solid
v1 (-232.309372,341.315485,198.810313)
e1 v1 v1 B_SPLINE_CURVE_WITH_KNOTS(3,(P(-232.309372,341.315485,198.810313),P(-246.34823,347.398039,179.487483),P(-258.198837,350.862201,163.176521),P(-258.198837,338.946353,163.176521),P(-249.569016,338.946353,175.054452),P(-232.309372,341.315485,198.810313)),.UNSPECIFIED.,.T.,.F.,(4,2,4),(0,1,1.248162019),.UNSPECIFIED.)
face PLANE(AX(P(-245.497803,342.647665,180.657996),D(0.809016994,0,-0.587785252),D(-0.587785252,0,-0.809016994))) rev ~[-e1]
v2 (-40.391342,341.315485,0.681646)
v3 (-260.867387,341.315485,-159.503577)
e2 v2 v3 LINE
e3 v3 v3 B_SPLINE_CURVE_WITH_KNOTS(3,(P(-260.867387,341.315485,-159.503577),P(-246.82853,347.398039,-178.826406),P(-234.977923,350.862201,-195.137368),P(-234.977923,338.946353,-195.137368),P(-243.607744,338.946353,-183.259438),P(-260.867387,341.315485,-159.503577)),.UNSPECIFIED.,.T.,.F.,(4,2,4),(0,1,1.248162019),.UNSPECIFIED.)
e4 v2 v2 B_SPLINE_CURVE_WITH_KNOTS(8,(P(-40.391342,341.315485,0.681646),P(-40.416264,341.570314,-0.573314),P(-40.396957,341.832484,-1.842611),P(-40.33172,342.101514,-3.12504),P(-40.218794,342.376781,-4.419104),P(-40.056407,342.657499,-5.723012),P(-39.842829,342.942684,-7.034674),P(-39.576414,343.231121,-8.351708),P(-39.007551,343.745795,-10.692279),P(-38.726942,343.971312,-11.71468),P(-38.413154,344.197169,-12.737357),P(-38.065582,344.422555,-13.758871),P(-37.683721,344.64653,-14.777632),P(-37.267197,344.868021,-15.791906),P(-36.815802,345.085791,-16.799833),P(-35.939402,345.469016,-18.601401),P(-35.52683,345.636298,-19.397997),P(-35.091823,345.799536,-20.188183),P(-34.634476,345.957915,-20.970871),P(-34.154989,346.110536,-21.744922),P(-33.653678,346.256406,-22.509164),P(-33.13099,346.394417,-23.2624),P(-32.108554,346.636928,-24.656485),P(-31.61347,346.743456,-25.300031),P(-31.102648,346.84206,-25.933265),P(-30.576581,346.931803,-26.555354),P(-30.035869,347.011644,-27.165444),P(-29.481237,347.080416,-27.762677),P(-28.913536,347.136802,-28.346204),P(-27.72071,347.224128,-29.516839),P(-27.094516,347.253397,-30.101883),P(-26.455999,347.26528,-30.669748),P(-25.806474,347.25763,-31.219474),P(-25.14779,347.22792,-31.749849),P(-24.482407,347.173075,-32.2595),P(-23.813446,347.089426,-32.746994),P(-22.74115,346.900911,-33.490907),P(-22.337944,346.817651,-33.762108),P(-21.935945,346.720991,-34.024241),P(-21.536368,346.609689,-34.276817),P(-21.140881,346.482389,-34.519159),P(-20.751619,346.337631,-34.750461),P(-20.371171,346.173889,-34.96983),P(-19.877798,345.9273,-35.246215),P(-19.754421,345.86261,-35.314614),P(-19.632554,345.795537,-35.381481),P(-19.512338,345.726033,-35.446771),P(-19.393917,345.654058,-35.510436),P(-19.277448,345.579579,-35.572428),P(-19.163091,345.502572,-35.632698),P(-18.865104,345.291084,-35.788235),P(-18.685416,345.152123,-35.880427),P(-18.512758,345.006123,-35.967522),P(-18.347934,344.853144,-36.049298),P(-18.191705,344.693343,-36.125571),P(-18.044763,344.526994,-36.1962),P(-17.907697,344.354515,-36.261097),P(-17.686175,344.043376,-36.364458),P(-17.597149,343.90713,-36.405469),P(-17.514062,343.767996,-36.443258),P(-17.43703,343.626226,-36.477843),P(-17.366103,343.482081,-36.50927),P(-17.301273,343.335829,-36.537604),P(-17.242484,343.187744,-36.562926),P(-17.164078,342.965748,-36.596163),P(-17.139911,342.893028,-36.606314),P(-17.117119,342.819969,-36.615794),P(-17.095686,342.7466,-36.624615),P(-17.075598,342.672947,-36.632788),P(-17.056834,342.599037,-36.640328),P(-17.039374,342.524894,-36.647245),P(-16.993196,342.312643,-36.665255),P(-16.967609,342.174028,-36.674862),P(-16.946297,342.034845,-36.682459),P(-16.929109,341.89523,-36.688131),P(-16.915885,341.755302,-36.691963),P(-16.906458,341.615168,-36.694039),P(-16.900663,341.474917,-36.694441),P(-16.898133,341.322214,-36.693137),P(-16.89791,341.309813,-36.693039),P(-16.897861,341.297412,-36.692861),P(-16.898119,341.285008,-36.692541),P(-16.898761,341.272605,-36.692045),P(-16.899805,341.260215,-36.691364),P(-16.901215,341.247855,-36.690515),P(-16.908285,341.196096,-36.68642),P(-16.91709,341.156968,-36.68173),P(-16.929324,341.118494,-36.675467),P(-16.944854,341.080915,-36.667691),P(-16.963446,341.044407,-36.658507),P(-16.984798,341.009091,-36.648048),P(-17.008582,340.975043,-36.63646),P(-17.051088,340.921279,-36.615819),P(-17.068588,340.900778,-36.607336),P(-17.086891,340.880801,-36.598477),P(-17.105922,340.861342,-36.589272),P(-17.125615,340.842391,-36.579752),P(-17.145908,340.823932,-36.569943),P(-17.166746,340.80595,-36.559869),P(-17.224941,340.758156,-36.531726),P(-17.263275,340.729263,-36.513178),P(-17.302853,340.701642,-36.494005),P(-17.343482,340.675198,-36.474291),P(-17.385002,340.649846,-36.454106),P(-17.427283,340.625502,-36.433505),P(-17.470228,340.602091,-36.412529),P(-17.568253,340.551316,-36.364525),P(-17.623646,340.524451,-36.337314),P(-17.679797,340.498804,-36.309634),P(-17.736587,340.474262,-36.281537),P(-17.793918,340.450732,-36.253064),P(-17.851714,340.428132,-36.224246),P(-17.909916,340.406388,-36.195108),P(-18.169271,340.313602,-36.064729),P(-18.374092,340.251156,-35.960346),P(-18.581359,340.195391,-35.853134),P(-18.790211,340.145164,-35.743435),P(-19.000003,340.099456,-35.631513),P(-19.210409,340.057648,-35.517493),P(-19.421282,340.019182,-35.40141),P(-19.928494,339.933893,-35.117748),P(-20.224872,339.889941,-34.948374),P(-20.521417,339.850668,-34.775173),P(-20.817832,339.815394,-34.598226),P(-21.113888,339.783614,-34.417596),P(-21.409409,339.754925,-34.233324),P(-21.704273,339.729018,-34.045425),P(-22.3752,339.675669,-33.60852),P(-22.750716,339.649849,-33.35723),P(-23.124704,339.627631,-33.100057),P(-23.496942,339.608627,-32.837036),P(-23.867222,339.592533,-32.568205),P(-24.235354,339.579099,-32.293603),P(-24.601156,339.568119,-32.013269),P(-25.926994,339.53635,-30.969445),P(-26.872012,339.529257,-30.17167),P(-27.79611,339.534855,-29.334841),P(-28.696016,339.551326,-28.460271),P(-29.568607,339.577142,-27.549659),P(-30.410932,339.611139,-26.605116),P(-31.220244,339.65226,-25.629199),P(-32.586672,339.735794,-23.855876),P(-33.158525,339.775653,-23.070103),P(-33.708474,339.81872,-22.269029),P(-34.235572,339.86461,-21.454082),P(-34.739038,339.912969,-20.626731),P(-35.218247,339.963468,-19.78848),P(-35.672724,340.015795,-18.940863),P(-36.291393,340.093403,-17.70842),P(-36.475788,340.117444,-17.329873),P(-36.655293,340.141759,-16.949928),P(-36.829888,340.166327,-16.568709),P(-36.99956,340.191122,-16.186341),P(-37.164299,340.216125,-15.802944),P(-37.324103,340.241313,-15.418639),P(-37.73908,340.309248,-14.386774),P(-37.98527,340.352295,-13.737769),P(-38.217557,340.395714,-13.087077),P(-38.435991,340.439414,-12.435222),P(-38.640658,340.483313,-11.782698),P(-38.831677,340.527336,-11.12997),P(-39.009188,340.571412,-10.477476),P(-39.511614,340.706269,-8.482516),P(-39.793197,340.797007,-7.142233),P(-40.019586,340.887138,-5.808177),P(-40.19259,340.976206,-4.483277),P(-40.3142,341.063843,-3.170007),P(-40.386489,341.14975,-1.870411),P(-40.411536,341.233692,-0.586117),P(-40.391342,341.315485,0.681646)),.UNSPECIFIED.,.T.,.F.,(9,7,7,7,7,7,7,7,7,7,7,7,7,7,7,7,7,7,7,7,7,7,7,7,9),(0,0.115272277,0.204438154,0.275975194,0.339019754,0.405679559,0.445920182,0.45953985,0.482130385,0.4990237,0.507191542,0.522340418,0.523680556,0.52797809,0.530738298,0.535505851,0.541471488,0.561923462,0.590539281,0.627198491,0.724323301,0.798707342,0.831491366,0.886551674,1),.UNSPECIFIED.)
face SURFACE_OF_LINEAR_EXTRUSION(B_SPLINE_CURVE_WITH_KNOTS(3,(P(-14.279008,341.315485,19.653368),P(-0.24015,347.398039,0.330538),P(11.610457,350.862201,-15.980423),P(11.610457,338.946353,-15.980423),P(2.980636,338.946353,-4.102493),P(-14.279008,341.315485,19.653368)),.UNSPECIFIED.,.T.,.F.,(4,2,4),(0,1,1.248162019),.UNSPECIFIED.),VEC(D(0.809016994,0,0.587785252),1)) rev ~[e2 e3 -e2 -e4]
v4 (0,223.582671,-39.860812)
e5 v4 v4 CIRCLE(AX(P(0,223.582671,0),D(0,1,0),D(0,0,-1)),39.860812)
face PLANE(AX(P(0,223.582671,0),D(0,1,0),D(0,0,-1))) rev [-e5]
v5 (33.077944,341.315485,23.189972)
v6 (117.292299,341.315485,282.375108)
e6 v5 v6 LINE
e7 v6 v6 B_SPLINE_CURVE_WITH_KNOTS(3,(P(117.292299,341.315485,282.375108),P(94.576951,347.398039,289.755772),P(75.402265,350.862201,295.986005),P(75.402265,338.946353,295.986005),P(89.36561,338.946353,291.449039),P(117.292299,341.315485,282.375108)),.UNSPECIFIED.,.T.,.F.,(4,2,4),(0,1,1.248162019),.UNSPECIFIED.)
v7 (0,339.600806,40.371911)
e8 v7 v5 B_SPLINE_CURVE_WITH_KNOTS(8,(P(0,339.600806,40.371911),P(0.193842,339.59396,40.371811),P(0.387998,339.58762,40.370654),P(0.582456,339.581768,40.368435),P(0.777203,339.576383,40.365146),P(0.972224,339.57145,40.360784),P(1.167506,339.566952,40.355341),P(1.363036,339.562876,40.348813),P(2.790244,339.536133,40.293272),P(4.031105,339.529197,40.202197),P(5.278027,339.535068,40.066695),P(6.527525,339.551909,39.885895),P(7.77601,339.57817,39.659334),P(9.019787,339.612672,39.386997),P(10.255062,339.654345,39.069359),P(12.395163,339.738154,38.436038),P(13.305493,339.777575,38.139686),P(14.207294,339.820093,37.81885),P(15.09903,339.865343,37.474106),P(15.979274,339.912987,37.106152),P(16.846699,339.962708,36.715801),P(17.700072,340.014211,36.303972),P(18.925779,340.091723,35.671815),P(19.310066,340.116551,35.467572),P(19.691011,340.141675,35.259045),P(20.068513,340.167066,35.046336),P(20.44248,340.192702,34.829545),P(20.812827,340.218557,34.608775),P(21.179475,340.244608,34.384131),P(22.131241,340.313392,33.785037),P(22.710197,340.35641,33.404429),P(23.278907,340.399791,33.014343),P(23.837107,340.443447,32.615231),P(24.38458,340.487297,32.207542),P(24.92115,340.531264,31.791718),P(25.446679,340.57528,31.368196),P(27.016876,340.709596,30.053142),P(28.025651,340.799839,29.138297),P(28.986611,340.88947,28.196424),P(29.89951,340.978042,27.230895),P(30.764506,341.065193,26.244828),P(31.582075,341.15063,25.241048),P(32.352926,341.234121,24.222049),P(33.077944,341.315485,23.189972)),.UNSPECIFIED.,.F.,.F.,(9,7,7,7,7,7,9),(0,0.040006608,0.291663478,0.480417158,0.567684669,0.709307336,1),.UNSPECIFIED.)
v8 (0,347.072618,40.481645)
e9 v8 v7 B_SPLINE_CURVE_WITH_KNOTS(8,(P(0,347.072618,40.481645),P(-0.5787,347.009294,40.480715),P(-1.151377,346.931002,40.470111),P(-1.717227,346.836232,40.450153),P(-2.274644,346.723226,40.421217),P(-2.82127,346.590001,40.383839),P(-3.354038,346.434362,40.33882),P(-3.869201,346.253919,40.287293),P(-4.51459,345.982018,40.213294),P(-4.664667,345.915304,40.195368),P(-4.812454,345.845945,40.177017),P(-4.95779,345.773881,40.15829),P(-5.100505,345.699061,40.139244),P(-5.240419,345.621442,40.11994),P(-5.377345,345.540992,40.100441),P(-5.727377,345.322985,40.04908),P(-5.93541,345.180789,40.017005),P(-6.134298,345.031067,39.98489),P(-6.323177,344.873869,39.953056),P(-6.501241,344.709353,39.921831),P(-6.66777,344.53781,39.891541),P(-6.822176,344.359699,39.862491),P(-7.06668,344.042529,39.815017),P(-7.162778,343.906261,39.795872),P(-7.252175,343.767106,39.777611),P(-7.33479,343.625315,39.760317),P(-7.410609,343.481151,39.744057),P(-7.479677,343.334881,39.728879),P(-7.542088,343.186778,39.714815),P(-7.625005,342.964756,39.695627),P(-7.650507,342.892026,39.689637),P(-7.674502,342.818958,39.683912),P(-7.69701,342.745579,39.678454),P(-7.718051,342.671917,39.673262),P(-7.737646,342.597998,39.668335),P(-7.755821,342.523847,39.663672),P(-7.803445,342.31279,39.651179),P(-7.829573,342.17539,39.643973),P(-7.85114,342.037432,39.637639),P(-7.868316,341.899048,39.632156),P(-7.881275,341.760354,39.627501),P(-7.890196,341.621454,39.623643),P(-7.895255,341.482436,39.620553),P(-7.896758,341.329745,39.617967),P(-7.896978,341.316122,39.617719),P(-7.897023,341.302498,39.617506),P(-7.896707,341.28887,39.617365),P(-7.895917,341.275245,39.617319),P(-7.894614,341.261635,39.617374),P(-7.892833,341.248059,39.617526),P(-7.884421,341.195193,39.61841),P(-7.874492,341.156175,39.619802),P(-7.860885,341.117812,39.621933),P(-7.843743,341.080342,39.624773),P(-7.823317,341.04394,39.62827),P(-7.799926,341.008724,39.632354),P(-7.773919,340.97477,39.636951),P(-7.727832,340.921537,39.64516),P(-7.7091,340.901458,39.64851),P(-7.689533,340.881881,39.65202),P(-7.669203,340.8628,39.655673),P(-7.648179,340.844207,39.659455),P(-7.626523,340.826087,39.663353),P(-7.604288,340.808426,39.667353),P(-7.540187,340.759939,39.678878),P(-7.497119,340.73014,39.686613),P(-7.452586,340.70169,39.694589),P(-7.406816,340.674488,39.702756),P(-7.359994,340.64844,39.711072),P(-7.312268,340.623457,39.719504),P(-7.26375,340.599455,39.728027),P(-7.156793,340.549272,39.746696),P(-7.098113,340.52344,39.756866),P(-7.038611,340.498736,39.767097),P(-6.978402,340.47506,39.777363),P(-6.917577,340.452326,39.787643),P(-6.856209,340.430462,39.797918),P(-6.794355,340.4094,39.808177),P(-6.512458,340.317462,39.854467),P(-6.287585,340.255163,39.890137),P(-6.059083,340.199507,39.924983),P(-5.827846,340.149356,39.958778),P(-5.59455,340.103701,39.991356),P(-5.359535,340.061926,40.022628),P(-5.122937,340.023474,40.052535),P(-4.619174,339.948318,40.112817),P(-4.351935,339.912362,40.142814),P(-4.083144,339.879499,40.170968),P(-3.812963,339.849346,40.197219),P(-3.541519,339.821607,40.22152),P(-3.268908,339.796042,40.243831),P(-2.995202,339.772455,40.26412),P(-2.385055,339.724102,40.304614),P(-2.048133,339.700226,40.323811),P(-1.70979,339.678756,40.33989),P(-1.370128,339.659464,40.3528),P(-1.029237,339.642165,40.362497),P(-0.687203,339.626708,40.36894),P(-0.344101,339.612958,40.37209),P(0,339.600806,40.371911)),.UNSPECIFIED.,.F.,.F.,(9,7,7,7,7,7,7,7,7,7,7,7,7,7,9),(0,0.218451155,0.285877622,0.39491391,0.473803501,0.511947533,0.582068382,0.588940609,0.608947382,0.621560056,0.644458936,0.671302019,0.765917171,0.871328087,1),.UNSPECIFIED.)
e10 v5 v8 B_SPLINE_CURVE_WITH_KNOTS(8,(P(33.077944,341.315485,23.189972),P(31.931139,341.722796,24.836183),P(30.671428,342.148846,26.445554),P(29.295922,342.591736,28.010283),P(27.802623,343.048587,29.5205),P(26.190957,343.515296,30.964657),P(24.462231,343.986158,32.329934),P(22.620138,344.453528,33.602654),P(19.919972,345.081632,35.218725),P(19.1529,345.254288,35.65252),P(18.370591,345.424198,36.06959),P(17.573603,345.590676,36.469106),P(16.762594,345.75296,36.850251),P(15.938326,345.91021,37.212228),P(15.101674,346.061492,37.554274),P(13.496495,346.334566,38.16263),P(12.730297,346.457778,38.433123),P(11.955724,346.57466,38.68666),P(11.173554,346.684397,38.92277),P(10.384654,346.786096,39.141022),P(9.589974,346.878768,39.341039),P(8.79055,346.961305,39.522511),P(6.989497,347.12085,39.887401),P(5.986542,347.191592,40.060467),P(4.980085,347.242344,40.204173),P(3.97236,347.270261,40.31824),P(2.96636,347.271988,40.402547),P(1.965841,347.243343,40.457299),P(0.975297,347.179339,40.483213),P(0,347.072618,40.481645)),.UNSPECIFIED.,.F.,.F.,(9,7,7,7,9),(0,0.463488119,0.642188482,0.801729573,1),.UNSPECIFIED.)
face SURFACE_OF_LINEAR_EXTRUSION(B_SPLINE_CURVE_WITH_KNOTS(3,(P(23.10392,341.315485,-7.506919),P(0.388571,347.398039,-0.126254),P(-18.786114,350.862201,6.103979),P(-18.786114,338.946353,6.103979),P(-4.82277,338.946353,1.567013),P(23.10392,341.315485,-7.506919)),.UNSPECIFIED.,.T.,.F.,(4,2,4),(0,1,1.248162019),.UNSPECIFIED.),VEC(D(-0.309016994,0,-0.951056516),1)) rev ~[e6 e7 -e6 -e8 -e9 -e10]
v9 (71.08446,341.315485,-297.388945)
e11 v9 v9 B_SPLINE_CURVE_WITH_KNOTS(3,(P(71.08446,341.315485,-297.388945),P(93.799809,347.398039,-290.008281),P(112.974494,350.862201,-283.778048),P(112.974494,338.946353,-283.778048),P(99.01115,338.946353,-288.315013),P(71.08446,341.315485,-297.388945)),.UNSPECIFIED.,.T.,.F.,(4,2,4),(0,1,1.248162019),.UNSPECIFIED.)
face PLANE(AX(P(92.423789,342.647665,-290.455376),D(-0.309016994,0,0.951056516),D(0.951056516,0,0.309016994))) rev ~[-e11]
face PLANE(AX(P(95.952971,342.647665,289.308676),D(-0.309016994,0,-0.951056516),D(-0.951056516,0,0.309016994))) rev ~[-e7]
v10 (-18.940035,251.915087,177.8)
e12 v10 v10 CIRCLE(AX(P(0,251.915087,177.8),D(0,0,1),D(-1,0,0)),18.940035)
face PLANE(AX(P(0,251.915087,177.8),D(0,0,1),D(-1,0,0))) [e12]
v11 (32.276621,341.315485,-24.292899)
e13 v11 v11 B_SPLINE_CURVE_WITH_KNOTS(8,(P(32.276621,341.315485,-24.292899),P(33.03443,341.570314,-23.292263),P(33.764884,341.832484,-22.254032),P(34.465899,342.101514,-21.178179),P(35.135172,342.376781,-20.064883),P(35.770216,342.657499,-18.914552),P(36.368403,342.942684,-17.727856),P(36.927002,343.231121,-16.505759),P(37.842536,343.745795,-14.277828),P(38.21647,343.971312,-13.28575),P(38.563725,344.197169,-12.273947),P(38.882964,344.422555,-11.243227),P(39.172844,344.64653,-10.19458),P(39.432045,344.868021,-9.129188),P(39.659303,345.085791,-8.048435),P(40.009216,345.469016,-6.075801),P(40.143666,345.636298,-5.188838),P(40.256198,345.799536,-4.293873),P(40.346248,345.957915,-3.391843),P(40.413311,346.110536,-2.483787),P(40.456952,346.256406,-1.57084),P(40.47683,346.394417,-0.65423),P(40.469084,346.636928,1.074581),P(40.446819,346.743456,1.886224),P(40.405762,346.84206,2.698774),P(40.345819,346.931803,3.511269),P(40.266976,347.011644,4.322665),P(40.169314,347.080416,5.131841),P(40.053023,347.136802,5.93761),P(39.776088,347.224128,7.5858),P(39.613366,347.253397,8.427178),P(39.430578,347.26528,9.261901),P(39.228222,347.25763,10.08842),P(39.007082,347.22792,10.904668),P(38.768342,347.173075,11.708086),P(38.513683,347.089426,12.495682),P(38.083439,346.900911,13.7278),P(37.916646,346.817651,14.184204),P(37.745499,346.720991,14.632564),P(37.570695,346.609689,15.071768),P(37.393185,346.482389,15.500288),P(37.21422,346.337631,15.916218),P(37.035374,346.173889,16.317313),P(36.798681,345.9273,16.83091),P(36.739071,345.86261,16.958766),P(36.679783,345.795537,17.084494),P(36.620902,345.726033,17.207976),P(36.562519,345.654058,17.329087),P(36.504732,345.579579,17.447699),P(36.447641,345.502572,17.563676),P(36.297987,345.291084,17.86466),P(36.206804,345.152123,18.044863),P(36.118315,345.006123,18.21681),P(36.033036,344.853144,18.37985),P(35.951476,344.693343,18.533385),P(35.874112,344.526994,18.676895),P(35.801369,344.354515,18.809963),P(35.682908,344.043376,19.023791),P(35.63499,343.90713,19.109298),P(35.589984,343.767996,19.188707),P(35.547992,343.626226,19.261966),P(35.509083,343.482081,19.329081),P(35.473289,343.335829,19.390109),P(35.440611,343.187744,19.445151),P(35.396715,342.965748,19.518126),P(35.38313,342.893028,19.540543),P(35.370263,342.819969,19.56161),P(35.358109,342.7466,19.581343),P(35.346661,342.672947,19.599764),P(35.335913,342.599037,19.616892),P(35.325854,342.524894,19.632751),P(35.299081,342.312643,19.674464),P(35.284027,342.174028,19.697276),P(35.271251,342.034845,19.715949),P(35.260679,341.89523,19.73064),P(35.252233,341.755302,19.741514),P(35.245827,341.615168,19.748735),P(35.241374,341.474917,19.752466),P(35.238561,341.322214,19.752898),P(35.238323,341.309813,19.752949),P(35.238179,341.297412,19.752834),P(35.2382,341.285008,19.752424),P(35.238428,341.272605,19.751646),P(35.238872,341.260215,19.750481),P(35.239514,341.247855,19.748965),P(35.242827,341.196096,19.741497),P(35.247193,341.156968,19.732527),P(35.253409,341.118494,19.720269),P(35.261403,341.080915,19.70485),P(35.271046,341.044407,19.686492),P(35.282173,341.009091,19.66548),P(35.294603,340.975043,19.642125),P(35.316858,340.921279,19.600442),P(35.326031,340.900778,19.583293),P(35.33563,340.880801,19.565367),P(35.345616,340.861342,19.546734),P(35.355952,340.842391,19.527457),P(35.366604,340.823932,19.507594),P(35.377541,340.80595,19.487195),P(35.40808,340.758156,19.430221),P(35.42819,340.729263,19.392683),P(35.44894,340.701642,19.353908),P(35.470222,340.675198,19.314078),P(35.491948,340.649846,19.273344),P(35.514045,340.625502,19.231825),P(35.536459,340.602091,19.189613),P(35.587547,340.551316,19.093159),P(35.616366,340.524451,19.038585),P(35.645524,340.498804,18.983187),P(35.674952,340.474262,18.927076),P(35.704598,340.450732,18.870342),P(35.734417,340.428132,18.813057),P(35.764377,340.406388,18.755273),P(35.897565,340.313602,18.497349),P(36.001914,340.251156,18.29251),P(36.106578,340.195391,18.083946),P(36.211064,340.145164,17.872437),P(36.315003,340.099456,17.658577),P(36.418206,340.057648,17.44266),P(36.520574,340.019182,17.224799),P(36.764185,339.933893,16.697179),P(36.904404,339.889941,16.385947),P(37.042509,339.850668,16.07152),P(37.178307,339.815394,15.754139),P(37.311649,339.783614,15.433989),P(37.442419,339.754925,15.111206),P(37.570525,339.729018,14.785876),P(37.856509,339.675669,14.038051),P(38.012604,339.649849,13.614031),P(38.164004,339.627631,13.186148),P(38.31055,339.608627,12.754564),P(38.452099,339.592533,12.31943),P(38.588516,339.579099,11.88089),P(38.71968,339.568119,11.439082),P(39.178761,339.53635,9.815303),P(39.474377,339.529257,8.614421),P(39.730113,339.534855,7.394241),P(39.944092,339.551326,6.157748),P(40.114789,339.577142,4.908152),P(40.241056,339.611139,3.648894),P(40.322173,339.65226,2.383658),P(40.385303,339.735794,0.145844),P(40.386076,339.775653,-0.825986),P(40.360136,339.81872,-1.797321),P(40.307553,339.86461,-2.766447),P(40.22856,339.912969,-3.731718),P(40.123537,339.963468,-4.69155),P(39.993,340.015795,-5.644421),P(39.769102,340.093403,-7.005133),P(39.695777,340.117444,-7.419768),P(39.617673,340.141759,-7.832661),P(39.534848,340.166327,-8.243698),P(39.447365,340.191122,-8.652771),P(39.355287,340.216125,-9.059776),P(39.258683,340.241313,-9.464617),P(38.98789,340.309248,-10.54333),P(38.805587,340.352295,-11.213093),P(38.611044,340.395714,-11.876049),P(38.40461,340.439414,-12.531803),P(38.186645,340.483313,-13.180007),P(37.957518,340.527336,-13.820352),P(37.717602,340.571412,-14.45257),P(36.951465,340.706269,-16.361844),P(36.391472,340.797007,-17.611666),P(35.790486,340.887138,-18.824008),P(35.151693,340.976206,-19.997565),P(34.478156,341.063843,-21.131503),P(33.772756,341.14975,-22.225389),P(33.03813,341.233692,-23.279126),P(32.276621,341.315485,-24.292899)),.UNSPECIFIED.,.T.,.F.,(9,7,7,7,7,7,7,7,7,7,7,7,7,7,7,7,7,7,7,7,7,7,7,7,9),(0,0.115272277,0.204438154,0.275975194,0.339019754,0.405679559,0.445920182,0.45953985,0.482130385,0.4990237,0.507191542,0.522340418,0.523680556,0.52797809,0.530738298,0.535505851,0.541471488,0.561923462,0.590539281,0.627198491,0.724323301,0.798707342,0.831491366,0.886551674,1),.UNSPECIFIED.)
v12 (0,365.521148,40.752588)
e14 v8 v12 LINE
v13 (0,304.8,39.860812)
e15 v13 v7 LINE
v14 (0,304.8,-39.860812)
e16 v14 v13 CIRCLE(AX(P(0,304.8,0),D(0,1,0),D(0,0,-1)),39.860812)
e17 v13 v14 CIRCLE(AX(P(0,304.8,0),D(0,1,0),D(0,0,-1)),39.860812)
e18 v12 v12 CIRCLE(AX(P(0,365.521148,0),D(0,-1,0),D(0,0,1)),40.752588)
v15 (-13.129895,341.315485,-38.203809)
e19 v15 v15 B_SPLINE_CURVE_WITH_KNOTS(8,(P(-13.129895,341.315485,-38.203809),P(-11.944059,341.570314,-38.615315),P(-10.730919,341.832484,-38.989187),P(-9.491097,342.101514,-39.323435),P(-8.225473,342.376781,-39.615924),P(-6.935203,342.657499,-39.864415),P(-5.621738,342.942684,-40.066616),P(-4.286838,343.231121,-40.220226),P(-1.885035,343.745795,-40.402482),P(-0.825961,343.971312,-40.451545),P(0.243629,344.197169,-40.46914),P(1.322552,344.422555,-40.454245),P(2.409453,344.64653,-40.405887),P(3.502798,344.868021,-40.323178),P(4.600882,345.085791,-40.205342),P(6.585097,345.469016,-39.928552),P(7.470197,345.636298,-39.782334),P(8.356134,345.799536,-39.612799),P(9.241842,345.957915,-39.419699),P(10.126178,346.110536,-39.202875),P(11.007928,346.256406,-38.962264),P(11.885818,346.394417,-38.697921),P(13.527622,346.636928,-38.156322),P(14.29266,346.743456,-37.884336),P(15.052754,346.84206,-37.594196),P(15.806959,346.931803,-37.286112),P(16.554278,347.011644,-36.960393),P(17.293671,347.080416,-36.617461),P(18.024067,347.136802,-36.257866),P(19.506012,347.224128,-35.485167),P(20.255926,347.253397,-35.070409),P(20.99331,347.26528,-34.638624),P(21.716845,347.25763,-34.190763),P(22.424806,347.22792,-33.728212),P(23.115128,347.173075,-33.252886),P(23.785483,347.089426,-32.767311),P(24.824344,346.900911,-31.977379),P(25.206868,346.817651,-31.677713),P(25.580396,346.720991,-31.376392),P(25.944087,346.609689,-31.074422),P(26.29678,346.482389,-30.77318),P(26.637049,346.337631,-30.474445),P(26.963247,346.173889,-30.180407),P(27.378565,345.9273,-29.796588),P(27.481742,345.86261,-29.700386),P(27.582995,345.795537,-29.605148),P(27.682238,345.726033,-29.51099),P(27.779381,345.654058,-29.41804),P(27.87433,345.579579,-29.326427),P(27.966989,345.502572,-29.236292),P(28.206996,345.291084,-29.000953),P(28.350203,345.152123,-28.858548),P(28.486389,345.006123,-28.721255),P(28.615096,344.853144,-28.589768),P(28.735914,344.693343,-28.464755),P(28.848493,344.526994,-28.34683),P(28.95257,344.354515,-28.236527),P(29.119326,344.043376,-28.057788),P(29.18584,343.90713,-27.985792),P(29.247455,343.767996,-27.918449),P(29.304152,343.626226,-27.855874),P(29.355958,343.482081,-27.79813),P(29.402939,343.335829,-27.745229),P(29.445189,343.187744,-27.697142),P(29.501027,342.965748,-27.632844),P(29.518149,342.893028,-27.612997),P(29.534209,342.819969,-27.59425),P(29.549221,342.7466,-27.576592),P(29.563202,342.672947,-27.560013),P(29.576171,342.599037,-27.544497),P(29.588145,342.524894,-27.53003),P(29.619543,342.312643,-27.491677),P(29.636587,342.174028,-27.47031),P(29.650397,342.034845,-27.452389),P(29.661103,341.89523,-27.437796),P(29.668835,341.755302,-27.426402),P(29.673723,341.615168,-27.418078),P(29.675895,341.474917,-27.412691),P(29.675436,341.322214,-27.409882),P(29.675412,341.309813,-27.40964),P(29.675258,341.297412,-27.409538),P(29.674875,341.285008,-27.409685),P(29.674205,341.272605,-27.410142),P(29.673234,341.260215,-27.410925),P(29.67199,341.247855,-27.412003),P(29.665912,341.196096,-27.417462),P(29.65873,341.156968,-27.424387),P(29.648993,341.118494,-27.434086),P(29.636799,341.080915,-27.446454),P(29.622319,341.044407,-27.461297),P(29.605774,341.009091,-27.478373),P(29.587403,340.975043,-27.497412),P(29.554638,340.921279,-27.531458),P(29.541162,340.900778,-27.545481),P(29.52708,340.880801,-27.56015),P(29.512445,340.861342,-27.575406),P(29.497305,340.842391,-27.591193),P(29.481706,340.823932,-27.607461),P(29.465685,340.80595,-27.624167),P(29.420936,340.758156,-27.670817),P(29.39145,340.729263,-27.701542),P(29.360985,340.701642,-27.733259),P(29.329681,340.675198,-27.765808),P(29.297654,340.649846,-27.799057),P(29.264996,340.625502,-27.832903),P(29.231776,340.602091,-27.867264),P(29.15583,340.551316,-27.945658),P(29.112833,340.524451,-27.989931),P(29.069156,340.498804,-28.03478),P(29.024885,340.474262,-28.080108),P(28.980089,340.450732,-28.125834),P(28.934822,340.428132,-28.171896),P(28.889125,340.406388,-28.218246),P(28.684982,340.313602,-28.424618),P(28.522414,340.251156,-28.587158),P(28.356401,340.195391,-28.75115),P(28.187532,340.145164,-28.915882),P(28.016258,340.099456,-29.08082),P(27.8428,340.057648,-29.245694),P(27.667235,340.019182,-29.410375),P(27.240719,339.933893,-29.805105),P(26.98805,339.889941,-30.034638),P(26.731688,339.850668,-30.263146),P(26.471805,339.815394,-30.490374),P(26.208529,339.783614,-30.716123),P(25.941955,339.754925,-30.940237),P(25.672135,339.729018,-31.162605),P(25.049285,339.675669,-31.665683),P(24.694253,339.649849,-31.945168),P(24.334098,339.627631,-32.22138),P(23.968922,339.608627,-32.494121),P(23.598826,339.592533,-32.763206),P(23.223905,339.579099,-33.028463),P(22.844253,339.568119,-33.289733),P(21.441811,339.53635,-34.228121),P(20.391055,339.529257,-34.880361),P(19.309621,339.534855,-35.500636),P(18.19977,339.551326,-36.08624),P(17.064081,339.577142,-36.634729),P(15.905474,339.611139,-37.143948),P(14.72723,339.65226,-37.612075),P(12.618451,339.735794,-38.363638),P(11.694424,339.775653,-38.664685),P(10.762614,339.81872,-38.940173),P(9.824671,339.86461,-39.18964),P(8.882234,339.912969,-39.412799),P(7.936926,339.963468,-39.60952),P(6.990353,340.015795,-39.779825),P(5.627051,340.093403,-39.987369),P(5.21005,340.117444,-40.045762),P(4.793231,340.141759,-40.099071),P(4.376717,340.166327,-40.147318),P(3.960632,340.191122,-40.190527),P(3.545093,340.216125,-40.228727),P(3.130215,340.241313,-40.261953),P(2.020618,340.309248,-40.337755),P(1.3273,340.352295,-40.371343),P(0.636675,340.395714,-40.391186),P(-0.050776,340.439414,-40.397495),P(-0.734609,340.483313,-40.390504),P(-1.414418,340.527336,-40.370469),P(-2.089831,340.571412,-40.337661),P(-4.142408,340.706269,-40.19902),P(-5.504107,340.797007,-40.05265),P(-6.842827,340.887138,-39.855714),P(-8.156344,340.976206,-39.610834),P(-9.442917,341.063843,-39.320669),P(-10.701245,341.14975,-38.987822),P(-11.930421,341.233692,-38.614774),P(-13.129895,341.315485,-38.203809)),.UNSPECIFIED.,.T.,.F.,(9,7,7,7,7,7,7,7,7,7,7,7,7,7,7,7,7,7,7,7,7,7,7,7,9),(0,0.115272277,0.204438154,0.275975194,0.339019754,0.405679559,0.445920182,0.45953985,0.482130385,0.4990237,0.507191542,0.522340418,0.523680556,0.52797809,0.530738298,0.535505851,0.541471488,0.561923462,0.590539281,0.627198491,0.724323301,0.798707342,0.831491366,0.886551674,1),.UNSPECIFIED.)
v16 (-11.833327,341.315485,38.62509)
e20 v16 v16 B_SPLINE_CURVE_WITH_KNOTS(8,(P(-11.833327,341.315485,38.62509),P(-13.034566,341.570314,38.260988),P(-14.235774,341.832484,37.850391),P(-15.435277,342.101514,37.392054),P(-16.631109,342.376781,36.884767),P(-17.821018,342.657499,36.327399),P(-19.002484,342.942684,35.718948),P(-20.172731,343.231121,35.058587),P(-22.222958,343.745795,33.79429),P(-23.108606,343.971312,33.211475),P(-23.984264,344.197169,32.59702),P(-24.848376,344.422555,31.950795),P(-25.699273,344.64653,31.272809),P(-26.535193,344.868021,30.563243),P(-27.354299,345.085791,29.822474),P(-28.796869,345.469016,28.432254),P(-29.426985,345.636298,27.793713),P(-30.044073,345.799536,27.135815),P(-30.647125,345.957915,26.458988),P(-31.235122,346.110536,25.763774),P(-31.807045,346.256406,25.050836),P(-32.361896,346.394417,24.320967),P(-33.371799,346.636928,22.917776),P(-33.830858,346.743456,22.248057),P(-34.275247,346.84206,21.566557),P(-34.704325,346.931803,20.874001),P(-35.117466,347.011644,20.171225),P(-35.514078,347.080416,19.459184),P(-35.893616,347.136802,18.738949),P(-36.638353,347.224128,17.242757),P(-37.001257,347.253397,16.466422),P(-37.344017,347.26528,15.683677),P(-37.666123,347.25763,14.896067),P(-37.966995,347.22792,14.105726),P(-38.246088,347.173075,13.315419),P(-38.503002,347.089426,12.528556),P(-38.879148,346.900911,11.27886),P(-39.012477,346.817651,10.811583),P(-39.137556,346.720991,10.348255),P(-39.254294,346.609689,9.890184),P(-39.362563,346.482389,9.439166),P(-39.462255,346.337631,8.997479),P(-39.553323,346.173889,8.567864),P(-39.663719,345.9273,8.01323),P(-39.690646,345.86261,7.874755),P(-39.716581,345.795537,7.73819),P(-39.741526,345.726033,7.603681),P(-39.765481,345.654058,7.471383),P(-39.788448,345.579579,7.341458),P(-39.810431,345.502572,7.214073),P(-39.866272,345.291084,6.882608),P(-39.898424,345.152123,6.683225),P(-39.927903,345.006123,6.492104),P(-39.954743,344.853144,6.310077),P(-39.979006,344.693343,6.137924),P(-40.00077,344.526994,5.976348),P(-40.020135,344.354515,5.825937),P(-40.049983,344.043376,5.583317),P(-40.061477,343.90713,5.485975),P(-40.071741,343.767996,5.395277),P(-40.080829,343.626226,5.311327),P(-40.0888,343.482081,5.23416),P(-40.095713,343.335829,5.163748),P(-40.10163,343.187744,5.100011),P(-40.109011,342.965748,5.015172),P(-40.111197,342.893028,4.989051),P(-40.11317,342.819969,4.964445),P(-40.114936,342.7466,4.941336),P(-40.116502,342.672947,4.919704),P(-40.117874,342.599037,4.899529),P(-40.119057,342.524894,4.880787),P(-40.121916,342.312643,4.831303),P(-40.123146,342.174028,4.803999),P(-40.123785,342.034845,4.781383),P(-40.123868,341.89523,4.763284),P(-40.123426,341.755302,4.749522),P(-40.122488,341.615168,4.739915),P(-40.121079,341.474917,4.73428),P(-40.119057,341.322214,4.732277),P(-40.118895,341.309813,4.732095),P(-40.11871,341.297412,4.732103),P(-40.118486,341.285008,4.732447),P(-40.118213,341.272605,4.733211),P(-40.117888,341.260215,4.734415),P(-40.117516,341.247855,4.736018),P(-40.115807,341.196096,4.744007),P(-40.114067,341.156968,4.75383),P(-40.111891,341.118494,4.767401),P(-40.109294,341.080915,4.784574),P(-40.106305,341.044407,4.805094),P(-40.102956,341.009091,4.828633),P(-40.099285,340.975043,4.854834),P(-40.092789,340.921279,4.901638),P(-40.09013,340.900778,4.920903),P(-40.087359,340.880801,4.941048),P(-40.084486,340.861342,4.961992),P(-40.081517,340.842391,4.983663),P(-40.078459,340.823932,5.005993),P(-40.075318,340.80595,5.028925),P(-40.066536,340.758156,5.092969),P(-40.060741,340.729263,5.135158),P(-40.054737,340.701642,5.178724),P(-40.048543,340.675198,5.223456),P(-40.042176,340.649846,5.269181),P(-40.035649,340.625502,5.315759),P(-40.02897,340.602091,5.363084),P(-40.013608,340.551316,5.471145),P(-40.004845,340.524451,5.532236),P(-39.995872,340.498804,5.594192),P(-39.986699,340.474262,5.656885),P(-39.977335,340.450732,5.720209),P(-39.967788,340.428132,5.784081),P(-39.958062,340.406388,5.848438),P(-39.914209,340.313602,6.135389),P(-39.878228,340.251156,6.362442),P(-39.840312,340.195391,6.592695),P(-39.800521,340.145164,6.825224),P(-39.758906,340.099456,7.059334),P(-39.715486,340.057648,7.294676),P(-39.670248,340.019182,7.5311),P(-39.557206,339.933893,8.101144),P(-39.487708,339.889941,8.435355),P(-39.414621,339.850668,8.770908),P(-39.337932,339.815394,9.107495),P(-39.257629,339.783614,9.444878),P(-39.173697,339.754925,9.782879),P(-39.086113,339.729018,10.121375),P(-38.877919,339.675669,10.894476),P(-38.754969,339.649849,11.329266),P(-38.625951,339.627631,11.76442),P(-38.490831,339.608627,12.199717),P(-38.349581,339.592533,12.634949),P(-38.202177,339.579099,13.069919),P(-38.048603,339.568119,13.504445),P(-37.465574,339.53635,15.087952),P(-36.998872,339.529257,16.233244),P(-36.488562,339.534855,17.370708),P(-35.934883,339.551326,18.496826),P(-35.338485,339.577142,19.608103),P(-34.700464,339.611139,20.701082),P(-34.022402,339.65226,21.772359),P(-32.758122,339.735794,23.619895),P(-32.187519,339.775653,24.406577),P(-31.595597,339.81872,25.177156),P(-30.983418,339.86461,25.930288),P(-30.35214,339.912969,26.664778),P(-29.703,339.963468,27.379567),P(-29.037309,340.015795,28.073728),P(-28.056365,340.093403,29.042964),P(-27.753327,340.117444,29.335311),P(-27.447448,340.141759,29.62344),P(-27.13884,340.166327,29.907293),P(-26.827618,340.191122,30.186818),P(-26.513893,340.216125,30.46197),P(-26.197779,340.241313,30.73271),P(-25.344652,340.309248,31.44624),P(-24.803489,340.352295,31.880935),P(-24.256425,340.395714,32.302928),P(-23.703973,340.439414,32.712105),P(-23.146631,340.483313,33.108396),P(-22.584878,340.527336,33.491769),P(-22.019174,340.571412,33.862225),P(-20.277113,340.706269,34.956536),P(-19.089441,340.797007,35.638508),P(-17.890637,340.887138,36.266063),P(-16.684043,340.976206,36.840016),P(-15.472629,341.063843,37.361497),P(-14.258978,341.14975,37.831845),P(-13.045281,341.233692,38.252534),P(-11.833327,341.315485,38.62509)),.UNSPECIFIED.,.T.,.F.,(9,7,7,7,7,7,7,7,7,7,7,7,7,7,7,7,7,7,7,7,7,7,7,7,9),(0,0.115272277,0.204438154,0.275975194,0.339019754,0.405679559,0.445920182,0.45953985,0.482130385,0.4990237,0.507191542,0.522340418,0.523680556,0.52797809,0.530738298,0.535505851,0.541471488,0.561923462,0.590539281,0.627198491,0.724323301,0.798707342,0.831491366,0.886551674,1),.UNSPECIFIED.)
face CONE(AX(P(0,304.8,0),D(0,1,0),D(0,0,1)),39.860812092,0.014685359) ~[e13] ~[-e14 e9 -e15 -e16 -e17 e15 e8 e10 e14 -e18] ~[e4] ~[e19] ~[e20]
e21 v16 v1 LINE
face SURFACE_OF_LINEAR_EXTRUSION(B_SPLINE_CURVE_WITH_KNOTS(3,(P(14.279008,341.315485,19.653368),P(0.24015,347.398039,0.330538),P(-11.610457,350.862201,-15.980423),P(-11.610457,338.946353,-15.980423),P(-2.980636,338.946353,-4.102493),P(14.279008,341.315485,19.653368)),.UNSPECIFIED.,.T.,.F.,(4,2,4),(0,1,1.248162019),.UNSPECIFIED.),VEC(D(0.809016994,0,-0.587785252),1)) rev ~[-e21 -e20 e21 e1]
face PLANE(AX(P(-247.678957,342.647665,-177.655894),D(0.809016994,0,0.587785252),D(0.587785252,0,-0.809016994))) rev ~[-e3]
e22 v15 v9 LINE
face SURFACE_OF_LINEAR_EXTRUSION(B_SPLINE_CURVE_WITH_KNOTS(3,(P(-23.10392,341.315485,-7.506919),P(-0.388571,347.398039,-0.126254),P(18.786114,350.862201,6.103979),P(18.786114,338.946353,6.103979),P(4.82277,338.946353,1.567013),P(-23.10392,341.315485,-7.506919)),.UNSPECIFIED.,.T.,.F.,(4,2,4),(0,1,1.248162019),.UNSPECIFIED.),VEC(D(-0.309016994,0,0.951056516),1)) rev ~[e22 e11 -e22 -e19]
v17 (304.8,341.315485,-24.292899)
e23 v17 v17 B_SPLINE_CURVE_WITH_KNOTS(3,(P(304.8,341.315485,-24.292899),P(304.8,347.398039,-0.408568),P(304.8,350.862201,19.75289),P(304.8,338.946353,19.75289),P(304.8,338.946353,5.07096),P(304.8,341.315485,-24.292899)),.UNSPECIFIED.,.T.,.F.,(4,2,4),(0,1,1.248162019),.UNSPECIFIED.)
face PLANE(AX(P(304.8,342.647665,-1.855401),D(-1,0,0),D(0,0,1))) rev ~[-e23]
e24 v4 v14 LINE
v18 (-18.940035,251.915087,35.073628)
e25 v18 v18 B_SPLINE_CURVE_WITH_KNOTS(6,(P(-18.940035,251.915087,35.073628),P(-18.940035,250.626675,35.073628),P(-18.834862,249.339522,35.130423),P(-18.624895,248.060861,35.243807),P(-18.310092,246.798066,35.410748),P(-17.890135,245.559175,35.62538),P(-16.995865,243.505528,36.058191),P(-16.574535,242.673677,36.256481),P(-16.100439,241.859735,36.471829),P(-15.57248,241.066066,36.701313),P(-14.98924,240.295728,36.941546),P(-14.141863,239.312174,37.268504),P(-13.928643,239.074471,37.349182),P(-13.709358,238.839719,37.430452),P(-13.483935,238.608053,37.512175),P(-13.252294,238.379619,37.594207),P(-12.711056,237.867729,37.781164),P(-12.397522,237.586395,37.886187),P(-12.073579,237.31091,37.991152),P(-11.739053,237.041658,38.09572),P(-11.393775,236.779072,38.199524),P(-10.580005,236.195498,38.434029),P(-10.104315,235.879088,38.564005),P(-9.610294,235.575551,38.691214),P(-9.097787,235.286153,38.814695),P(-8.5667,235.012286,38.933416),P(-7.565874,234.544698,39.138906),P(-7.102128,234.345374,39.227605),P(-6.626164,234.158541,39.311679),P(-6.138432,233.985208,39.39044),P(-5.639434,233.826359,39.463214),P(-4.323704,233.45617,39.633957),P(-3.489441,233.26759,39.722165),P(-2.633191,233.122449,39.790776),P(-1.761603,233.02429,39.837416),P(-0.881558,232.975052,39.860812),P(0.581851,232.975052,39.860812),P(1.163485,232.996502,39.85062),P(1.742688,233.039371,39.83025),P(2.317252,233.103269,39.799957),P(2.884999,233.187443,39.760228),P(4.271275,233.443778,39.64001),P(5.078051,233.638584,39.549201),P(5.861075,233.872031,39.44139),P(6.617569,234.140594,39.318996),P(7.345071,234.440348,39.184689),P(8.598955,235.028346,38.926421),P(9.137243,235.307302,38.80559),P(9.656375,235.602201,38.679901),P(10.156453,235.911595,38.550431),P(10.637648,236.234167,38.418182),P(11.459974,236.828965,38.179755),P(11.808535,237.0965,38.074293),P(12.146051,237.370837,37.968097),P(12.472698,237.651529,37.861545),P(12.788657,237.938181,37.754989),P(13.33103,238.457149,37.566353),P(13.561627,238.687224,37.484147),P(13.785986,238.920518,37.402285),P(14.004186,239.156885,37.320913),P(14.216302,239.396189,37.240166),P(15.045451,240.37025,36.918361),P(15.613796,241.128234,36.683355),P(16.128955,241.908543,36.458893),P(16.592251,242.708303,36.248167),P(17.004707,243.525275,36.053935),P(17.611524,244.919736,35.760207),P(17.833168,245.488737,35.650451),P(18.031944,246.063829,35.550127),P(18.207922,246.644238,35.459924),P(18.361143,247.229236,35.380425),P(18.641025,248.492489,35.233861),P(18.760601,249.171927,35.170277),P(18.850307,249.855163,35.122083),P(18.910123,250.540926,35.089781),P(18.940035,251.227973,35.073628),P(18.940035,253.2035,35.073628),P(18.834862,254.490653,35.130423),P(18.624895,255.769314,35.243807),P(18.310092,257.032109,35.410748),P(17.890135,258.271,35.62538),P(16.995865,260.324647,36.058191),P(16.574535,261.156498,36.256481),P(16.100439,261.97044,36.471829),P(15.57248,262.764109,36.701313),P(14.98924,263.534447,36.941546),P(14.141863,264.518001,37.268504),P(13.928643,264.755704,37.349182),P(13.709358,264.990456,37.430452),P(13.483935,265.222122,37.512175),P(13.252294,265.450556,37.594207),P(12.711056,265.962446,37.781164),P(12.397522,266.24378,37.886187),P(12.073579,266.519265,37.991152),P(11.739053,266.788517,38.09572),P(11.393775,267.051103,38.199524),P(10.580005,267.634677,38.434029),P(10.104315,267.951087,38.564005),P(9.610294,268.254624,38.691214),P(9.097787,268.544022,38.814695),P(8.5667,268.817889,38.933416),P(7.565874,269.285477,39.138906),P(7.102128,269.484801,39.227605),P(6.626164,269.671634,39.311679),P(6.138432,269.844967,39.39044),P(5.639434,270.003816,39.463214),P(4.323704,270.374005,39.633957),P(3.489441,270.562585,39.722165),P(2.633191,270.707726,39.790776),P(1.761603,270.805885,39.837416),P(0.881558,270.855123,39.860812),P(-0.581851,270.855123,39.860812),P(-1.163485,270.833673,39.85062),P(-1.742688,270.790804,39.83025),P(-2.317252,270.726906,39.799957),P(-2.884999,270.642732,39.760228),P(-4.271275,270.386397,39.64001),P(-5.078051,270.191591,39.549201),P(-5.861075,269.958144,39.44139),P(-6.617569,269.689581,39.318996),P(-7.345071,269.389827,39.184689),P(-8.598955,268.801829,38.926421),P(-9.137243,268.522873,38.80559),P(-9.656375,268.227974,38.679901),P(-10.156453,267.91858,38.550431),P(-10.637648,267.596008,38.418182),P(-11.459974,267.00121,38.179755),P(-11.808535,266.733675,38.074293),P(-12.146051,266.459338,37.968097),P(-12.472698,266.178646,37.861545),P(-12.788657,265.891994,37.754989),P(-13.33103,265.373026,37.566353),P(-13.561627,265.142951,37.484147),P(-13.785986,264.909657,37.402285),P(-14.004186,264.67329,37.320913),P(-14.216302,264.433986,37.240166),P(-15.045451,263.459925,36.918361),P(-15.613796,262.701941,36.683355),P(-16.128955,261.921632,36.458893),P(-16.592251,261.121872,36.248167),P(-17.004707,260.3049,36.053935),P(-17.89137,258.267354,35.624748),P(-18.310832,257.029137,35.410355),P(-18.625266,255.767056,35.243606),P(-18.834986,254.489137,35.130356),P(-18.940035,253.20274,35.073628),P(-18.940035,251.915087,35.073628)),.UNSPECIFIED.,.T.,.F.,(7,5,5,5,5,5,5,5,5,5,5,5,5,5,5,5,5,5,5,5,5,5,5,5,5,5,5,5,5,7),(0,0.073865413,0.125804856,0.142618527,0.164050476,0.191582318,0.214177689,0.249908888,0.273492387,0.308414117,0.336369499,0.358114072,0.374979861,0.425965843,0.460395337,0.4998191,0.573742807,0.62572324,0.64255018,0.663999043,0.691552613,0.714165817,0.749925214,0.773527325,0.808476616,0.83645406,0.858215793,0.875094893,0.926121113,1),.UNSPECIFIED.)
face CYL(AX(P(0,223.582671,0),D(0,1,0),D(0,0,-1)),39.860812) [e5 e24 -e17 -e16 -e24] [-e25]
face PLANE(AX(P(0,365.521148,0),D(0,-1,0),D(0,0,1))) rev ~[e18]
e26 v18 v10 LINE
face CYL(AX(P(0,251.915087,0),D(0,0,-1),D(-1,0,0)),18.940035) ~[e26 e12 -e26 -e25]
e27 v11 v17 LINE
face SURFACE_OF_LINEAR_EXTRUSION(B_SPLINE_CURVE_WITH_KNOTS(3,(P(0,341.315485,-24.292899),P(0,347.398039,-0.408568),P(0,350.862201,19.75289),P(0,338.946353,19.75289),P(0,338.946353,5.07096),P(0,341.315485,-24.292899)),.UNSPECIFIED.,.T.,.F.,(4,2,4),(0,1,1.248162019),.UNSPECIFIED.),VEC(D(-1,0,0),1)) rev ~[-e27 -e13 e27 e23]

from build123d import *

# Parameters (mm, degrees)
BOSS_EXTRUDE1_DEPTH = 304.8
CIRPATTERN1_COUNT   = 5
SKETCH4_R           = 18.940035463
BOSS_EXTRUDE2_DEPTH = 177.8


with BuildPart() as part:
    # Sketch1 → Revolve1 (revolve)
    with BuildSketch(Plane.XY, mode=Mode.PRIVATE) as revolve1_sk:
        Polygon((39.860812092, 304.8), (0, 264.939187908), (0, 223.582670835), (39.860812092, 223.582670835), align=None)
    revolve(revolve1_sk.sketch.rotate(Axis((0, 223.582670835, 0), (0, 1, 0)), 90), axis=Axis((0, 223.582670835, 0), (0, 1, 0)))

    # Sketch2 → Revolve2 (revolve)
    with BuildSketch(Plane(origin=(0, 0, 0), x_dir=(0, 0, -1), z_dir=(1, 0, 0)), mode=Mode.PRIVATE) as revolve2_sk:
        Polygon((39.860812092, 304.8), (40.752588079, 365.521147905), (0, 365.521147905), (0, 264.939187908), align=None)
    revolve(revolve2_sk.sketch.rotate(Axis((0, 365.521147905, 0), (0, -1, 0)), 180), axis=Axis((0, 365.521147905, 0), (0, -1, 0)))

    # Sketch3 → Boss-Extrude1 (add)
    with BuildSketch(Plane(origin=(0, 0, 0), x_dir=(0, 0, -1), z_dir=(1, 0, 0))):
        with BuildLine():
            add(Edge.make_bspline(
                [(-19.752889725, 341.315485371), (-19.752889725, 350.862201435), (0.408567961, 347.398038579), (24.292898678, 341.315485371)],
                knots=[0, 0, 0, 0, 1, 1, 1, 1], degree=3))
            add(Edge.make_bspline(
                [(-19.752889725, 341.315485371), (-19.752889725, 337.761786872), (24.292898678, 341.315485371)],
                knots=[0, 0, 0, 1, 1, 1], degree=2))
        make_face()
    boss_extrude1 = extrude(amount=BOSS_EXTRUDE1_DEPTH)

    # CirPattern1: Boss-Extrude1 ×5 about axis
    cirpattern1_axis = Axis((0, 365.521147905, 0), (0, 1, 0))
    for i in range(1, CIRPATTERN1_COUNT):
        add(boss_extrude1.rotate(cirpattern1_axis, i * 360 / CIRPATTERN1_COUNT))

    # Sketch4 → Boss-Extrude2 (add)
    with BuildSketch(Plane.XY):
        with Locations(Location((0, 251.915087497, 0), (0, 0, 180))):
            Circle(SKETCH4_R)
    extrude(amount=BOSS_EXTRUDE2_DEPTH)


solid = part.part
